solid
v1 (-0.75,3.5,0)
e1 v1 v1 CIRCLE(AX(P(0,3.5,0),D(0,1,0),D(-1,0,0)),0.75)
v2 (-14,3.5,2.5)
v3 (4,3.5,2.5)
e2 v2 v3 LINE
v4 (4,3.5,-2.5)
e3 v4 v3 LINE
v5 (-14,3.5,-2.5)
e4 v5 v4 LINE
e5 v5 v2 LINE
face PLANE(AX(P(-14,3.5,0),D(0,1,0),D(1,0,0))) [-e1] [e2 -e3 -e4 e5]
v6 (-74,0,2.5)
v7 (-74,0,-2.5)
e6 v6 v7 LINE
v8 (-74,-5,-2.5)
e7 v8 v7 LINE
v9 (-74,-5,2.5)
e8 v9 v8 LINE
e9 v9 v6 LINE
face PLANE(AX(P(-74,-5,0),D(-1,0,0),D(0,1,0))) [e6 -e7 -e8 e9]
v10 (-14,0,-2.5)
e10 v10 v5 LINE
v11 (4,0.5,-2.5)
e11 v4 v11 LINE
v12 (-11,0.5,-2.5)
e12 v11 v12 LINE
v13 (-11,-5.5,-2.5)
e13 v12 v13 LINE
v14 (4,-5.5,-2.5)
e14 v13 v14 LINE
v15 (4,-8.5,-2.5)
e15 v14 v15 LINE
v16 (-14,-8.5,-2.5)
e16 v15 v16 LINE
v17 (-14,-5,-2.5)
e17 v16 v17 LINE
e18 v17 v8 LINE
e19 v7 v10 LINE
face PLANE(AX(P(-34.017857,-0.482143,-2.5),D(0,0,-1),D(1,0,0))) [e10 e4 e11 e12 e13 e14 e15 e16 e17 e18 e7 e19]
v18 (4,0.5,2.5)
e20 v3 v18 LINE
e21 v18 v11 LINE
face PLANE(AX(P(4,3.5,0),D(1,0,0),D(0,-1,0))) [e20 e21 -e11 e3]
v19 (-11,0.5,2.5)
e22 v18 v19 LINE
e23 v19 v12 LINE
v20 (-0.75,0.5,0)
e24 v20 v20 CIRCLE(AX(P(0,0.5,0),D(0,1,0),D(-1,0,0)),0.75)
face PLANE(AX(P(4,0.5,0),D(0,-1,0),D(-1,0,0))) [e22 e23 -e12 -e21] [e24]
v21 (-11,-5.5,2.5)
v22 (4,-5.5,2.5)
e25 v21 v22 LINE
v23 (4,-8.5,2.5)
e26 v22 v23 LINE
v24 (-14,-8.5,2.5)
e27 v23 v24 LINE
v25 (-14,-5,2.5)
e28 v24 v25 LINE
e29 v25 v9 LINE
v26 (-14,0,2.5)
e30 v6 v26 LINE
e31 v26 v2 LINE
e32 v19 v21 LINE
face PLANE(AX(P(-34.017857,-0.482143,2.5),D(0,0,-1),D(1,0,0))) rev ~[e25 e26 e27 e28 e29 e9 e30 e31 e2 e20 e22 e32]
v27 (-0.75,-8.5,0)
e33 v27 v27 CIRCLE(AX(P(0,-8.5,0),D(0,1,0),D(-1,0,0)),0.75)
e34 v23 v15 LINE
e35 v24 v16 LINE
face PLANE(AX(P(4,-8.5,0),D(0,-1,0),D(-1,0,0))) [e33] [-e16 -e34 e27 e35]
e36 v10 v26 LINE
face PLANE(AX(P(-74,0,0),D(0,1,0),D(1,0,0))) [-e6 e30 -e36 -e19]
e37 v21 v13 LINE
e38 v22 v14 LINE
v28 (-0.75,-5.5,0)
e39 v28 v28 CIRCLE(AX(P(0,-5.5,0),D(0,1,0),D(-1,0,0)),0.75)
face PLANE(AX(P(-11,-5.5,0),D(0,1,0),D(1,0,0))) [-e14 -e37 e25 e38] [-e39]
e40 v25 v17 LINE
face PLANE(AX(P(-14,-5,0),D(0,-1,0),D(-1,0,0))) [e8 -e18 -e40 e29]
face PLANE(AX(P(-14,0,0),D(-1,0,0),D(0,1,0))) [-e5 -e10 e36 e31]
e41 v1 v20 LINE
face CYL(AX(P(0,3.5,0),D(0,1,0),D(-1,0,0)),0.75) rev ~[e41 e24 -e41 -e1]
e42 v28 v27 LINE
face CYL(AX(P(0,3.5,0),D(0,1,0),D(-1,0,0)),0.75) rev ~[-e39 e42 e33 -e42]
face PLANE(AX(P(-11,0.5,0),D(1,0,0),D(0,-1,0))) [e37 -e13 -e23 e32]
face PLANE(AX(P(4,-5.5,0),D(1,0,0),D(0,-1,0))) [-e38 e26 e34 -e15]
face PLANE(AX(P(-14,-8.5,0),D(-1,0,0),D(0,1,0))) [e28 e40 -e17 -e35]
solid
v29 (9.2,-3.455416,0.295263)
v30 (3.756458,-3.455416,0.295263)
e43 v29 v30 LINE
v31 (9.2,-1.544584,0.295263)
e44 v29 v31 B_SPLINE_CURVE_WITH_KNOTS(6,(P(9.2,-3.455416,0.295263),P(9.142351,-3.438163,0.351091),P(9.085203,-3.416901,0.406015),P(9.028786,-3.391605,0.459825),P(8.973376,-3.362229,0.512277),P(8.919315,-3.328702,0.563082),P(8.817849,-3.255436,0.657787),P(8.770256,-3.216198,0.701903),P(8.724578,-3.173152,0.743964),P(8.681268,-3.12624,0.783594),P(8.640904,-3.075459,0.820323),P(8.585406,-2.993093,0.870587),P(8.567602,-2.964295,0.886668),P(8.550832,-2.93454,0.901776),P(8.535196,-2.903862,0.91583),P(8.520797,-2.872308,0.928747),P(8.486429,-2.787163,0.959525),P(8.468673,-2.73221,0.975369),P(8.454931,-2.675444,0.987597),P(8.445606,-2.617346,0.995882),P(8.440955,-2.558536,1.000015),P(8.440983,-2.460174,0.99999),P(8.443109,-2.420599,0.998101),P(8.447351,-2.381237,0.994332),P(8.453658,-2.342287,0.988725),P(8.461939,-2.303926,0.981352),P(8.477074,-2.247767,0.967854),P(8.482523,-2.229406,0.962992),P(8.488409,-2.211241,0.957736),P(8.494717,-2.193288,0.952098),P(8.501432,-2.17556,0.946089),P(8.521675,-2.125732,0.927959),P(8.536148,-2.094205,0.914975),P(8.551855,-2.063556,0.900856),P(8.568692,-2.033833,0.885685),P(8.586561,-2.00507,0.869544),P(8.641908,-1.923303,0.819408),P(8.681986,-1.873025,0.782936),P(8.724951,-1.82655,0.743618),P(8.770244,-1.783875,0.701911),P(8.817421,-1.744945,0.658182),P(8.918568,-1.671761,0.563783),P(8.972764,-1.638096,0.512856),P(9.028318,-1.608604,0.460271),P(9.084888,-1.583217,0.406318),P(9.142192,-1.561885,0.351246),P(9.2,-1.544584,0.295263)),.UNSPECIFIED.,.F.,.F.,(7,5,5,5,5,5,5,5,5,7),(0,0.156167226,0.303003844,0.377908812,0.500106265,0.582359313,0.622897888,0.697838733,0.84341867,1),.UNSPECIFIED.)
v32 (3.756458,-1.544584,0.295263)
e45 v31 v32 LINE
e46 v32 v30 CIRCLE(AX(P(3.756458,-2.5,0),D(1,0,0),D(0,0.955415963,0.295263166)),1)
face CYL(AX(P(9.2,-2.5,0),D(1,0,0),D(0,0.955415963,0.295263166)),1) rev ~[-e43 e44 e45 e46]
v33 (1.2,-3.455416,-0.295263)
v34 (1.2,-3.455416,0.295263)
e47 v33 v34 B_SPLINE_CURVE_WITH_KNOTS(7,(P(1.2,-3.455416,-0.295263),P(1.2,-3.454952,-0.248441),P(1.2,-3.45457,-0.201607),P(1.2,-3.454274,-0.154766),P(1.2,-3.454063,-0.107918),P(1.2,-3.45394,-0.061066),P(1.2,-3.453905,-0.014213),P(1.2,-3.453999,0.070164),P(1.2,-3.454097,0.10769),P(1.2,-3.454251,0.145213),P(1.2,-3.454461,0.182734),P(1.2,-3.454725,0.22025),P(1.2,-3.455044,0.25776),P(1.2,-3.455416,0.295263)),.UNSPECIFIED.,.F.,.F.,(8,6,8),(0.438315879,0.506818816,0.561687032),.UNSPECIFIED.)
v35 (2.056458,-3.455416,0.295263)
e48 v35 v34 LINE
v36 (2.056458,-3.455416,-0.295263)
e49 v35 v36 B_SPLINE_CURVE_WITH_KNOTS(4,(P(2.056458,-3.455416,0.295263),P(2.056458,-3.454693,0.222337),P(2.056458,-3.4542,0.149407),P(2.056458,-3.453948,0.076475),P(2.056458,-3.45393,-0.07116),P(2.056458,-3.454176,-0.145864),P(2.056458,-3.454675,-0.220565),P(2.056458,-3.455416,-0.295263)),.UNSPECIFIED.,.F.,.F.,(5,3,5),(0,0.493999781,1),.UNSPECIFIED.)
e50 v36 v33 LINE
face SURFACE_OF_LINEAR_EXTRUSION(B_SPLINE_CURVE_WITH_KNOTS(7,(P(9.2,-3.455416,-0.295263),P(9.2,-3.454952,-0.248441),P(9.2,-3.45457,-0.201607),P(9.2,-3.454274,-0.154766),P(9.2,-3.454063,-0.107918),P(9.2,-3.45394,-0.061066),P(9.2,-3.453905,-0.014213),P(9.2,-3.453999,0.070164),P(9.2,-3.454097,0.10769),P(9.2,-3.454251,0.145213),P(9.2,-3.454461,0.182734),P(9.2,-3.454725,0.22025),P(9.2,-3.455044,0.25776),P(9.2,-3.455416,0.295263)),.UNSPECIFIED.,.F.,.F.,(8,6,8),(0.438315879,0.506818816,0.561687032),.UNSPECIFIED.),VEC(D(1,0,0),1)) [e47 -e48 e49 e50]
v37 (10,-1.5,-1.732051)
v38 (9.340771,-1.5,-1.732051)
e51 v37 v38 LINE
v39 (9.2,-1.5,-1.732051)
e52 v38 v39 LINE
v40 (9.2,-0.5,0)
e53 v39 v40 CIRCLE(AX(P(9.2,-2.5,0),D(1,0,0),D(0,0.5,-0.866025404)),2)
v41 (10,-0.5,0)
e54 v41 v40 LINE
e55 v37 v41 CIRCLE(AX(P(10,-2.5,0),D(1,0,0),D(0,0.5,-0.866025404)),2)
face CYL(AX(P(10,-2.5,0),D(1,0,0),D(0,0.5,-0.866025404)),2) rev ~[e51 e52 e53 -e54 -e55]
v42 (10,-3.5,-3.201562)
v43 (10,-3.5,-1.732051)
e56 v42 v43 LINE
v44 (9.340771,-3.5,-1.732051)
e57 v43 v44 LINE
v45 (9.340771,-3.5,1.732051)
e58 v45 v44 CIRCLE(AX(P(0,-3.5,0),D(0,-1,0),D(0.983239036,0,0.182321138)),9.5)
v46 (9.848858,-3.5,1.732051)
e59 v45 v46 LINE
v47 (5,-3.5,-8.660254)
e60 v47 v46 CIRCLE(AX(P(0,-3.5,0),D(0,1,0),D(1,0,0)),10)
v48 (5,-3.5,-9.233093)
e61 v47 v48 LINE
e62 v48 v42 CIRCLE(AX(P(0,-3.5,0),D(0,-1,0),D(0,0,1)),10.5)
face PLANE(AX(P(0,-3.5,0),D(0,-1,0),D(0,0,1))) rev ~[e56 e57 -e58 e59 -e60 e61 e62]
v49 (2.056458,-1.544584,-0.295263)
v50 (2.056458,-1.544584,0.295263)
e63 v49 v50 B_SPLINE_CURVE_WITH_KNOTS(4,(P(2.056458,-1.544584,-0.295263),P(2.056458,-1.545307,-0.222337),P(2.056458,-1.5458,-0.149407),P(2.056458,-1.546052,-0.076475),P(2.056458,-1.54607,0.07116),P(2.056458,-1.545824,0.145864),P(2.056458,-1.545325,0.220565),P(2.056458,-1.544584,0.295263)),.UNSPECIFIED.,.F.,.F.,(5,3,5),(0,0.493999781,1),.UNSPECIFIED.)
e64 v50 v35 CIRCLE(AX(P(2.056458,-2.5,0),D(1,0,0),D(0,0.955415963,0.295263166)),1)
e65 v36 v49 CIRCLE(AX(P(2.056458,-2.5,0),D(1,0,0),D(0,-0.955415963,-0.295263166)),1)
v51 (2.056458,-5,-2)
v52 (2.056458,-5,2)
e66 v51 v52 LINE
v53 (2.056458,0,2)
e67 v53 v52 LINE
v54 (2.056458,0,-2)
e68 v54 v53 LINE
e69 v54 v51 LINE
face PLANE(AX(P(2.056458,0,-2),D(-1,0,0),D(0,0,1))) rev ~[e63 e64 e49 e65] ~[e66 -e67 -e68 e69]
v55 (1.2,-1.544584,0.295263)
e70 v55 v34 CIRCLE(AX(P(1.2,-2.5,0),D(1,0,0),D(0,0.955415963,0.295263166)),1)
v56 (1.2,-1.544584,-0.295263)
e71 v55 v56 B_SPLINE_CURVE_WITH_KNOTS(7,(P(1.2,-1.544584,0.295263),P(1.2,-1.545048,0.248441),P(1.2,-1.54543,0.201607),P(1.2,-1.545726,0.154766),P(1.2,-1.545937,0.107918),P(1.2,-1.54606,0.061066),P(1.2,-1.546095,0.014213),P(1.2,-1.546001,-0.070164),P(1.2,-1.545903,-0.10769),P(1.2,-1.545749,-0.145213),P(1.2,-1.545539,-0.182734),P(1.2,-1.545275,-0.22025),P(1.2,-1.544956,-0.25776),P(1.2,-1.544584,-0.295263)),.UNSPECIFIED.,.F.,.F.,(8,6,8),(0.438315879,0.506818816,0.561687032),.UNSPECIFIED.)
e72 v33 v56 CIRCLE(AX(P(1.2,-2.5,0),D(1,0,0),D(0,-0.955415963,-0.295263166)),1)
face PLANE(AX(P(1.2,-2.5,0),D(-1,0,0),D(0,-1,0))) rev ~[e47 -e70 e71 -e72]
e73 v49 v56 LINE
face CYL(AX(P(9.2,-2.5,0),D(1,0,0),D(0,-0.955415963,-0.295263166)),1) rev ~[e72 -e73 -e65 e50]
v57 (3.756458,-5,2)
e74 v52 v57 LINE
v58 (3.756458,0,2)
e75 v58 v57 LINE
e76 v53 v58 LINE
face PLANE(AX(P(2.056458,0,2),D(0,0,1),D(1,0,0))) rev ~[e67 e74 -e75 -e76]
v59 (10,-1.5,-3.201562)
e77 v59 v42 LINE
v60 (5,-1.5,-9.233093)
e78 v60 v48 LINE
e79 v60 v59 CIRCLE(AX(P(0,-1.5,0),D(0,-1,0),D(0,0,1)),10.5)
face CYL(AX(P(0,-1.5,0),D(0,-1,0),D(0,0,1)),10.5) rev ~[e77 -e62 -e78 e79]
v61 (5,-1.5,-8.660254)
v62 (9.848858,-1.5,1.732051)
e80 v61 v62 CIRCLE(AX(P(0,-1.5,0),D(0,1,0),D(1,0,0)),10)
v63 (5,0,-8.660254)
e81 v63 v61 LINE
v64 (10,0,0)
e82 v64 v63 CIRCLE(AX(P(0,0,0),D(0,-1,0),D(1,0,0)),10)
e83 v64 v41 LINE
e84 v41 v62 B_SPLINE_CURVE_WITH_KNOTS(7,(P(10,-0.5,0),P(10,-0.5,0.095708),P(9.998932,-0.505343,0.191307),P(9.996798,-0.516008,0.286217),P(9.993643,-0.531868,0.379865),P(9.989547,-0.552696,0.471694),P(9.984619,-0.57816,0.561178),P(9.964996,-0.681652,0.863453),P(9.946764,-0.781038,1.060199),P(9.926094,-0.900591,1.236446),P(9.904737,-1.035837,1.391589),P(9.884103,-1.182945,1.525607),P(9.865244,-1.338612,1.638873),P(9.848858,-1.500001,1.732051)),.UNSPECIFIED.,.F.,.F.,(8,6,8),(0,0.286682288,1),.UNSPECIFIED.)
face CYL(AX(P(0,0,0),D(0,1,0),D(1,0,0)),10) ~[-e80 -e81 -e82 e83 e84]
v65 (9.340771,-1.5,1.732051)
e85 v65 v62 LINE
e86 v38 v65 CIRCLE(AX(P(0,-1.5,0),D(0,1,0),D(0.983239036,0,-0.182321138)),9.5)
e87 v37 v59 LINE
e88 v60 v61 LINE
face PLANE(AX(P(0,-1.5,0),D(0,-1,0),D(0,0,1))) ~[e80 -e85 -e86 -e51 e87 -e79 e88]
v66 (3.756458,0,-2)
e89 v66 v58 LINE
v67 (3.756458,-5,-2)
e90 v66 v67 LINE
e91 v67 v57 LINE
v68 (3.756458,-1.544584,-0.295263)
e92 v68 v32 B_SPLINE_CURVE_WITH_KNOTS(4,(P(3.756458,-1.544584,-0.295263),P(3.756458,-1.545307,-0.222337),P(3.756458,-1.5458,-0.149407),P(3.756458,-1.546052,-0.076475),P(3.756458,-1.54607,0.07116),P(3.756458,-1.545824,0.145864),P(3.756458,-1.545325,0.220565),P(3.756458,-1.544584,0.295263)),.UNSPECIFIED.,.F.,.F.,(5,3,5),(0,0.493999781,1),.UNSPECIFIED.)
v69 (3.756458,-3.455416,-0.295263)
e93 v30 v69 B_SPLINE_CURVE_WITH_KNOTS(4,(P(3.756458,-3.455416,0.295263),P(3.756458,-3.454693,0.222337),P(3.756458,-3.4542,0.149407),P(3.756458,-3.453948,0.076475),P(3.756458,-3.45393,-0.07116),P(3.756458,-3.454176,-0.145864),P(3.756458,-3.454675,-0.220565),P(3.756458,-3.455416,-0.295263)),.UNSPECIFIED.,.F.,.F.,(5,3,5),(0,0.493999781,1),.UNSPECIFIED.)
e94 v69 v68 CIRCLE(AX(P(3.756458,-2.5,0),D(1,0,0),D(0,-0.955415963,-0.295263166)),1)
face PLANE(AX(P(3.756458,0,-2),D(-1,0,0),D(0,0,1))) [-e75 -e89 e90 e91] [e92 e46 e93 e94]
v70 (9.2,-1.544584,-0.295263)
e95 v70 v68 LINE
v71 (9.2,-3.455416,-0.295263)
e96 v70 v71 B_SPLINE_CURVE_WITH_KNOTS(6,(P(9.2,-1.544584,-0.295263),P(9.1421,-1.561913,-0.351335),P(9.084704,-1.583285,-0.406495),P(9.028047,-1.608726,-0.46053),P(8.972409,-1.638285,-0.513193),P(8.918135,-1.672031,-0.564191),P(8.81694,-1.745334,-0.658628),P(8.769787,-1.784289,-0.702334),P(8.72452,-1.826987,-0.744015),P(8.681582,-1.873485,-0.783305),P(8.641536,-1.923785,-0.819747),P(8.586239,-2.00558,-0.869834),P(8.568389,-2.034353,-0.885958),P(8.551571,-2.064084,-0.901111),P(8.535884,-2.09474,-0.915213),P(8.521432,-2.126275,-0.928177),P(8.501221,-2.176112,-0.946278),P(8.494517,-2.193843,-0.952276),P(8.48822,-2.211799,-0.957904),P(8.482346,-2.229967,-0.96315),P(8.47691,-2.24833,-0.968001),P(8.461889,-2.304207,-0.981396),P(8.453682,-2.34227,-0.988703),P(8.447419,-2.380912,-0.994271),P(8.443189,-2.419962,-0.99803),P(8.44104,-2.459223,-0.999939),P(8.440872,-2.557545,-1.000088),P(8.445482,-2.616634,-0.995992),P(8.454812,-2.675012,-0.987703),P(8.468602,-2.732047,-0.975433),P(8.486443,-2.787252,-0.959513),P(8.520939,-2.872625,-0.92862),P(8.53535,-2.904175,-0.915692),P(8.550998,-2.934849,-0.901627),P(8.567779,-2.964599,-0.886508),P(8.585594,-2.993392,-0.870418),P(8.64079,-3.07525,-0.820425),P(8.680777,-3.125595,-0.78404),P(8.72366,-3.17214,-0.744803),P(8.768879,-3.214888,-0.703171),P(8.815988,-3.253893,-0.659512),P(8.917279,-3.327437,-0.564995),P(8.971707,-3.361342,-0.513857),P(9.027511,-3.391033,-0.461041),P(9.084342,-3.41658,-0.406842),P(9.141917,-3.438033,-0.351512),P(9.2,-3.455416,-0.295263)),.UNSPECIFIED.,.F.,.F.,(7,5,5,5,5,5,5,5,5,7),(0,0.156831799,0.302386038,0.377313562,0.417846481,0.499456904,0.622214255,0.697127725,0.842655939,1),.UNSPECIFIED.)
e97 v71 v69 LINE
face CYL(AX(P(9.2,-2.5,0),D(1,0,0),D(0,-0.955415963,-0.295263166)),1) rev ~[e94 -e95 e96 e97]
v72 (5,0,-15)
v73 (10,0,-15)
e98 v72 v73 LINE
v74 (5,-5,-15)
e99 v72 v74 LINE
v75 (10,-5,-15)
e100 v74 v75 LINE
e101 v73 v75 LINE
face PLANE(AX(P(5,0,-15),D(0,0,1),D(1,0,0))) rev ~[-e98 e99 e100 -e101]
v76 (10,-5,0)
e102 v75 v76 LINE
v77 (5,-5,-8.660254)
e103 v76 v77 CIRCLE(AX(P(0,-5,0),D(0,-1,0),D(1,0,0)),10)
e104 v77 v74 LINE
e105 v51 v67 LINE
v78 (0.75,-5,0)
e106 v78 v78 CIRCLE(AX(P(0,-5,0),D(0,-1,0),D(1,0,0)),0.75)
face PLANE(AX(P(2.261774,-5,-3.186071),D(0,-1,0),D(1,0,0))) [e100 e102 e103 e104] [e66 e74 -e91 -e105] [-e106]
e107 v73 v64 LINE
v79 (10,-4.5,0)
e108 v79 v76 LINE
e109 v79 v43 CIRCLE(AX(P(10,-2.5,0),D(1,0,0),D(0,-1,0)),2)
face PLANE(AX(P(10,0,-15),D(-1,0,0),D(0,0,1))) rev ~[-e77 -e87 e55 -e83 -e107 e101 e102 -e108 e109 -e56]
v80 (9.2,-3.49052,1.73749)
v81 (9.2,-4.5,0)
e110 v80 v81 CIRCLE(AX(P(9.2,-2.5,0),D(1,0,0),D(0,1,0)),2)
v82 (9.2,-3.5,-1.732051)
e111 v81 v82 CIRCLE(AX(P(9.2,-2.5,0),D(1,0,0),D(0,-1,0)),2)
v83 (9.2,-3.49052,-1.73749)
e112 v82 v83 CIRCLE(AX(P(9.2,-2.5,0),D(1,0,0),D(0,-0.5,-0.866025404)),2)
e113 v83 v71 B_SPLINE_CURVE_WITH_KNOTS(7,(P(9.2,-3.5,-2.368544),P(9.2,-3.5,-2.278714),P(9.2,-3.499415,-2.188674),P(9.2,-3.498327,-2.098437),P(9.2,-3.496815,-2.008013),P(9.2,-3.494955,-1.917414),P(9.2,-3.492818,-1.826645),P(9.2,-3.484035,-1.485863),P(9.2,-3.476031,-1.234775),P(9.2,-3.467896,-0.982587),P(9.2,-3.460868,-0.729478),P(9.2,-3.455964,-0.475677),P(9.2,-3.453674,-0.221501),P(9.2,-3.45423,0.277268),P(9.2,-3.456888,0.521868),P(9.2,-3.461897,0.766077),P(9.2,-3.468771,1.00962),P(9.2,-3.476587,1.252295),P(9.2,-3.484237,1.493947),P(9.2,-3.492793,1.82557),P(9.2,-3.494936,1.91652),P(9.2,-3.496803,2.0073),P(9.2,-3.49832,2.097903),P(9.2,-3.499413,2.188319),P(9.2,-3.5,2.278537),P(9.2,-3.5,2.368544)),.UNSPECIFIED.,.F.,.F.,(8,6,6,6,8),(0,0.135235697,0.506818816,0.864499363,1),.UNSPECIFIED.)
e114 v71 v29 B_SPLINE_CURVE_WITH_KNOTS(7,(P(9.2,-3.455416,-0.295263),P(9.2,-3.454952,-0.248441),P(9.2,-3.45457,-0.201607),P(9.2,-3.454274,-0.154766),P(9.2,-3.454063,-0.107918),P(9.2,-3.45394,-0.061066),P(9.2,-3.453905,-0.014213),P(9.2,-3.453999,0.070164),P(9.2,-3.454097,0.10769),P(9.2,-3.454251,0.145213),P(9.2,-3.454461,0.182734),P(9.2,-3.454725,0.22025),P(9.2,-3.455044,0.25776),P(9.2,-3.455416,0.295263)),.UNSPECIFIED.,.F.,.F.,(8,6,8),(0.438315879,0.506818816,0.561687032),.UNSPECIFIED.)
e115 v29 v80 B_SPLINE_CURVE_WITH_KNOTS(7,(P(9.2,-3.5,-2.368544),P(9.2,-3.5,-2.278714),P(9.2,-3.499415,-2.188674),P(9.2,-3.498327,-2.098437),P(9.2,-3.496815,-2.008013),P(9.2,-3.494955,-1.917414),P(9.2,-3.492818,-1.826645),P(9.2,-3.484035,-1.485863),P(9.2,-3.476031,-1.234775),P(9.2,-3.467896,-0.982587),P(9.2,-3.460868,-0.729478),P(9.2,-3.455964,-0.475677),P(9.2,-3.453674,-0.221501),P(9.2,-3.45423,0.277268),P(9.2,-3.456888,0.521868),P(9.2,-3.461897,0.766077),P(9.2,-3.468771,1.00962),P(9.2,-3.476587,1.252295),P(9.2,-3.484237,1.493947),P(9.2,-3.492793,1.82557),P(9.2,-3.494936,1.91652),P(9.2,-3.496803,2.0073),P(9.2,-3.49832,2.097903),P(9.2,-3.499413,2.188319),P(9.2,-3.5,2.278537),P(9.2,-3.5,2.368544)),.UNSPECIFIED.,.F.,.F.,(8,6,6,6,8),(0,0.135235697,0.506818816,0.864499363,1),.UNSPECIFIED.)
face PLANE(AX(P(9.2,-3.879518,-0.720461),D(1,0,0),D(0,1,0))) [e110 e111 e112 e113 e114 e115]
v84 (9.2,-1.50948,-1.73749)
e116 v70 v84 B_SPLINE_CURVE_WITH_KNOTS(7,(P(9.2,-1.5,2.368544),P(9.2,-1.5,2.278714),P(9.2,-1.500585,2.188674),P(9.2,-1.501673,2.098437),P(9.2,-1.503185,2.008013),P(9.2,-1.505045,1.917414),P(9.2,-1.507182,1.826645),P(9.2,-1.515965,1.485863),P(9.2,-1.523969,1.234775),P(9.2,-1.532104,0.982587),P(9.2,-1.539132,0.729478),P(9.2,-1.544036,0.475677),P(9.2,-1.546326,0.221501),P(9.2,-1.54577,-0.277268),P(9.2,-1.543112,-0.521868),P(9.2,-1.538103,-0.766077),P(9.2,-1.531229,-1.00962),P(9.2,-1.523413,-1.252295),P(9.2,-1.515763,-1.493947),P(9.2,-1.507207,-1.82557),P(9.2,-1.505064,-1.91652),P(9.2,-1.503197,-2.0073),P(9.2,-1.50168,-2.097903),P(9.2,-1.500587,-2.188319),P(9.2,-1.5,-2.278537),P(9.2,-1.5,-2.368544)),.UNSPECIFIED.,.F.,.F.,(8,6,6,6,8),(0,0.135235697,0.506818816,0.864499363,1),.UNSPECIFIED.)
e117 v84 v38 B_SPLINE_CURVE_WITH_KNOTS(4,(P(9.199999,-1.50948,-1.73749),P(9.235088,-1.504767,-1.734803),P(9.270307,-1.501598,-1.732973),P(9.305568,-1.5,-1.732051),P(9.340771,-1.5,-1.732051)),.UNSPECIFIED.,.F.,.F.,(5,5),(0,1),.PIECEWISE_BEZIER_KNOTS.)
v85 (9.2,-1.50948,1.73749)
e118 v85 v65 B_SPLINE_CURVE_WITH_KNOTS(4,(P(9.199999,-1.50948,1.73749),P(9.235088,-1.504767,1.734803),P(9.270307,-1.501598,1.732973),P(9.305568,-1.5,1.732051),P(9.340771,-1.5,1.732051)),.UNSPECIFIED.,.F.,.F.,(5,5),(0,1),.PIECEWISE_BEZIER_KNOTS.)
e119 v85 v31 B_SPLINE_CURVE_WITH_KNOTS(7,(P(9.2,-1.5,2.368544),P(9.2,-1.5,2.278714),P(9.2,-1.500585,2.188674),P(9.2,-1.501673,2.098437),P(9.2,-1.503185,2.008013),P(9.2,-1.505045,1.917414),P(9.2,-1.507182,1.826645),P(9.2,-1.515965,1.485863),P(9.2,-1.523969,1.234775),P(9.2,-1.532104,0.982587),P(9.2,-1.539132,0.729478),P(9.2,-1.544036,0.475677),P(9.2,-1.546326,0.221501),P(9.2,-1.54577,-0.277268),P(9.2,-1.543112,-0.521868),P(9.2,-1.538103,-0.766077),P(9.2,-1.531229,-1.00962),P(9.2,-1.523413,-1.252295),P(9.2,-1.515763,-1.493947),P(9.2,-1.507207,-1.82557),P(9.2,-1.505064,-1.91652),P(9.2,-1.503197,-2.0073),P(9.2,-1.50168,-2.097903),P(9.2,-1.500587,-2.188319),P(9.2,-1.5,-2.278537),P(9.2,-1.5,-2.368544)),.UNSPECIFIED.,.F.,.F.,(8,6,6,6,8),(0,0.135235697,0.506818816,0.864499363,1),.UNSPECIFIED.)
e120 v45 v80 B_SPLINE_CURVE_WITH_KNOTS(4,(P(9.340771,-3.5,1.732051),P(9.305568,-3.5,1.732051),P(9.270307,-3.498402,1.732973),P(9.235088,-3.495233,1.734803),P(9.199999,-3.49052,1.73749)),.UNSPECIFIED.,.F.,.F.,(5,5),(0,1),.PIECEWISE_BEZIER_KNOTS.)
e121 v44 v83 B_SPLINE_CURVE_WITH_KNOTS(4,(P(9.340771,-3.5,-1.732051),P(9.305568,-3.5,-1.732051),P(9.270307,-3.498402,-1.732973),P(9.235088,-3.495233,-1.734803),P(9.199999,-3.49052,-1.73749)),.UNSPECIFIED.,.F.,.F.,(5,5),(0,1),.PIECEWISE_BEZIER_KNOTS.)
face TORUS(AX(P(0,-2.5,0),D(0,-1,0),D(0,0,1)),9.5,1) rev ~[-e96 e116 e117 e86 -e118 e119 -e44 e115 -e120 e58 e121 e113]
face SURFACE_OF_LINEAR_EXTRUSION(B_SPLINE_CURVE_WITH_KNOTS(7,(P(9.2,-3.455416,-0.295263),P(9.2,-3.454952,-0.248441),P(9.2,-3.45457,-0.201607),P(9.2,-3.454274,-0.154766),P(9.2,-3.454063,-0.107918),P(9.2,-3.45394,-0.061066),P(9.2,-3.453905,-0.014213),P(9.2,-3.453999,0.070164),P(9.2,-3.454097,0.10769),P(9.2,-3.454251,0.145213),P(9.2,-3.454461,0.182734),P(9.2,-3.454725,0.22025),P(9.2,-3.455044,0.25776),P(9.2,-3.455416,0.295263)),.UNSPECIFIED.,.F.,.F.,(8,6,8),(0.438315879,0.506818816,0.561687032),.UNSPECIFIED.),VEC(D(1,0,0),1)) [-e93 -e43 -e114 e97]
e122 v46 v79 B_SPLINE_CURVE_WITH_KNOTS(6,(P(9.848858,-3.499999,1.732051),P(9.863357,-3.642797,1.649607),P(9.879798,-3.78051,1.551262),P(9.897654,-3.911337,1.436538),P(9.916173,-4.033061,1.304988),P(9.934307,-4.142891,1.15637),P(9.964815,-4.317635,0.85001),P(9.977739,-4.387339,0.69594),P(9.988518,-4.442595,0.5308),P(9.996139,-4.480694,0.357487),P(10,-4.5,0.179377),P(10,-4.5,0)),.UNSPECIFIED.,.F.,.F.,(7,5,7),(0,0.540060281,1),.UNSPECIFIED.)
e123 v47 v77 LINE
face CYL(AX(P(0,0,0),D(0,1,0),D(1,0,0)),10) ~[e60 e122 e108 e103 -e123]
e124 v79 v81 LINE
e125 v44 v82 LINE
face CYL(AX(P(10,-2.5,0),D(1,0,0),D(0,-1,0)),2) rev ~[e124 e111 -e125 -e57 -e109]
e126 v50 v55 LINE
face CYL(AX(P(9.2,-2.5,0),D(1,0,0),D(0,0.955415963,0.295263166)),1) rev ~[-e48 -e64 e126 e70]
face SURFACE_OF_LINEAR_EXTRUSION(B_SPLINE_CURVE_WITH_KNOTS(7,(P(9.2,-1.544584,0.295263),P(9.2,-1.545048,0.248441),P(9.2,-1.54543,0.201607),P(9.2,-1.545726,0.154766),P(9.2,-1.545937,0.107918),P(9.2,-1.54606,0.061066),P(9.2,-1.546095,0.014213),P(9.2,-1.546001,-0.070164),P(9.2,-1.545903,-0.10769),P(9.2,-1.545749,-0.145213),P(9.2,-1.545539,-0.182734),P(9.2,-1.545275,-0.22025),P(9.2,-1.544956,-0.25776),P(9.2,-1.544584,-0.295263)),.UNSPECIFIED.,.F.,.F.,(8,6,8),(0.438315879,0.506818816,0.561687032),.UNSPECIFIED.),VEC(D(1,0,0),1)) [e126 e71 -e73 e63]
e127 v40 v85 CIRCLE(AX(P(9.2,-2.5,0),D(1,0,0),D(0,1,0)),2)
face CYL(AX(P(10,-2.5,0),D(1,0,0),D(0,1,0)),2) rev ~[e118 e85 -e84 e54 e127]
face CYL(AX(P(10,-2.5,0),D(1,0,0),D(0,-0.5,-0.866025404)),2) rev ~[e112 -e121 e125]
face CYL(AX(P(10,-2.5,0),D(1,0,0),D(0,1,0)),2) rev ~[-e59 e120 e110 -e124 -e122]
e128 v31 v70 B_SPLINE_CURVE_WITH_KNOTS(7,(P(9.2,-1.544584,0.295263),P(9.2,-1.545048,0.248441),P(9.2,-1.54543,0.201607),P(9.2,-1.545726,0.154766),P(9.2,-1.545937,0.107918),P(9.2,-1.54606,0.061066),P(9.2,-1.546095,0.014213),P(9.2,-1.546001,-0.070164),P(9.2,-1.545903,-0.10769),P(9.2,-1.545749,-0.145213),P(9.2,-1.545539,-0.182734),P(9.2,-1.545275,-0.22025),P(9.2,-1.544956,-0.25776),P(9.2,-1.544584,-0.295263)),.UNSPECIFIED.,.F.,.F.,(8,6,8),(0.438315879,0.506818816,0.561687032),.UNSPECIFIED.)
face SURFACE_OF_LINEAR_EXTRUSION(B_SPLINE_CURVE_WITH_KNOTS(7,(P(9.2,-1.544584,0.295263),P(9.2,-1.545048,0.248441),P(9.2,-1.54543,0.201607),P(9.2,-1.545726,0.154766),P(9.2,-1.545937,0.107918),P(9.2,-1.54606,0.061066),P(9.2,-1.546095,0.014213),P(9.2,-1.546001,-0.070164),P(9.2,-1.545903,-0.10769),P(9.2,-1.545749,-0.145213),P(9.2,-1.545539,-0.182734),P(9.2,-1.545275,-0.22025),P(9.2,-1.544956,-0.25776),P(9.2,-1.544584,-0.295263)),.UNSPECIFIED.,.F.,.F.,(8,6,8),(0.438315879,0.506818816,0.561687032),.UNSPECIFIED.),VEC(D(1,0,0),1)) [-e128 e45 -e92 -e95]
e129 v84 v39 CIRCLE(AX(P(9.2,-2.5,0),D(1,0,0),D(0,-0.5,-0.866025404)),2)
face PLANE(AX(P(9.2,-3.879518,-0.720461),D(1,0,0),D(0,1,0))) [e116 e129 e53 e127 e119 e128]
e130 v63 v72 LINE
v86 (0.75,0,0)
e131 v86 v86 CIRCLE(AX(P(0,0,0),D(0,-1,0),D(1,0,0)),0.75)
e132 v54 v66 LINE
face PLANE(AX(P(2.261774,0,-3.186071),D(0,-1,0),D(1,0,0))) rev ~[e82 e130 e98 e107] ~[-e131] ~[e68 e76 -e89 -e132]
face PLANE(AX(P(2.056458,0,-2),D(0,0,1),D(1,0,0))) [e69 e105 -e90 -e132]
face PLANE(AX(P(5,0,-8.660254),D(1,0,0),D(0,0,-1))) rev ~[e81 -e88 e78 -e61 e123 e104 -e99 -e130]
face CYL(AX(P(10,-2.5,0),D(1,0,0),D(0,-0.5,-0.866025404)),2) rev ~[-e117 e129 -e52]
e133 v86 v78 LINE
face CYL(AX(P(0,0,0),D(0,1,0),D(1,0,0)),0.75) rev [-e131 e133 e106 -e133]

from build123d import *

# Parameters (mm, degrees)
F0_R           = 0.75
F0_W           = 1.7
F0_H           = 4
F1_DEPTH       = 5
F6_DEPTH       = 0.8
F8_DEPTH       = 8
F10_DEPTH      = 2.5
F10_DEPTH_BACK = 2.5
F11_R          = 0.75
F12_DEPTH      = 12


with BuildPart() as f1:
    # F0 (on Front) → F1 (new body)
    with BuildSketch(Plane.XZ):
        with BuildLine():
            Line((10, -15), (10, 0))
            ThreePointArc((10, 0), (-8.6602540378, 5), (5, -8.6602540378))
            Line((5, -8.6602540378), (5, -15))
            Line((5, -15), (10, -15))
        make_face()
        Circle(F0_R, mode=Mode.SUBTRACT)
        with Locations((2.9064579867, 0)):
            Rectangle(F0_W, F0_H, mode=Mode.SUBTRACT)
    extrude(amount=F1_DEPTH)

    # F3 (on Right) → F4 (revolve, cut)
    with BuildSketch(Plane.YZ):
        with BuildLine():
            Line((-1.5, 10), (-1.5, 10.5))
            Line((-1.5, 10.5), (-3.5, 10.5))
            Line((-3.5, 10.5), (-3.5, 10))
            Line((-3.5, 10), (-3.5, 9.5))
            ThreePointArc((-3.5, 9.5), (-2.5, 8.5), (-1.5, 9.5))
            Line((-1.5, 9.5), (-1.5, 10))
        make_face()
    revolve(axis=Axis((0, -2.5, 0), (0, -1, 0)), mode=Mode.SUBTRACT)

    # F5 (on face) → F6 (cut)
    with BuildSketch(Plane.YZ.offset(10)):
        with BuildLine():
            Line((-3.5, 0), (-4.5, 0))
            ThreePointArc((-4.5, 0), (-4.2320508076, -1), (-3.5, -1.7320508076))
            Line((-3.5, -1.7320508076), (-3.5, 0))
        make_face()
        with BuildLine():
            ThreePointArc((-1.5, -1.7320508076), (-0.7679491924, -1), (-0.5, 0))
            Line((-0.5, 0), (-1.5, 0))
            Line((-1.5, 0), (-1.5, -1.7320508076))
        make_face()
        with BuildLine():
            Line((-1.5, 0), (-0.5, 0))
            ThreePointArc((-0.5, 0), (-2.5, 2), (-4.5, 0))
            Line((-4.5, 0), (-3.5, 0))
            Line((-3.5, 0), (-3.5, -1.7320508076))
            ThreePointArc((-3.5, -1.7320508076), (-2.5, -2), (-1.5, -1.7320508076))
            Line((-1.5, -1.7320508076), (-1.5, 0))
        make_face()
    extrude(amount=-F6_DEPTH, mode=Mode.SUBTRACT)

    # F7 (on face) → F8 (cut)
    with BuildSketch(Plane.YZ.offset(9.2)):
        with BuildLine():
            add(Edge.make_bspline(
                [(-1.5445840368, 0.295263166), (-1.5450482012, 0.2484405202), (-1.5454297015, 0.2016073034), (-1.5457263882, 0.1547656753), (-1.5459366901, 0.1079178993), (-1.5460596334, 0.0610663461), (-1.5460948535, 0.0142134972), (-1.5460007359, -0.0701643408), (-1.5459027565, -0.1076899148), (-1.545748778, -0.1452134741), (-1.5455391734, -0.1827337648), (-1.5452745645, -0.2202495788), (-1.5449558177, -0.2577597532), (-1.5445840375, -0.2952631684)],
                knots=[0.4383158786, 0.4383158786, 0.4383158786, 0.4383158786, 0.4383158786, 0.4383158786, 0.4383158786, 0.4383158786, 0.5068188161, 0.5068188161, 0.5068188161, 0.5068188161, 0.5068188161, 0.5068188161, 0.5616870319, 0.5616870319, 0.5616870319, 0.5616870319, 0.5616870319, 0.5616870319, 0.5616870319, 0.5616870319], degree=7))
            ThreePointArc((-1.5445840368, 0.295263166), (-2.4999999988, 1), (-3.4554159625, 0.2952631684))
            add(Edge.make_bspline(
                [(-3.4554159632, -0.295263166), (-3.4549517988, -0.2484405202), (-3.4545702985, -0.2016073034), (-3.4542736118, -0.1547656753), (-3.4540633099, -0.1079178993), (-3.4539403666, -0.0610663461), (-3.4539051465, -0.0142134972), (-3.4539992641, 0.0701643408), (-3.4540972435, 0.1076899148), (-3.454251222, 0.1452134741), (-3.4544608266, 0.1827337648), (-3.4547254355, 0.2202495788), (-3.4550441823, 0.2577597532), (-3.4554159625, 0.2952631684)],
                knots=[0.4383158786, 0.4383158786, 0.4383158786, 0.4383158786, 0.4383158786, 0.4383158786, 0.4383158786, 0.4383158786, 0.5068188161, 0.5068188161, 0.5068188161, 0.5068188161, 0.5068188161, 0.5068188161, 0.5616870319, 0.5616870319, 0.5616870319, 0.5616870319, 0.5616870319, 0.5616870319, 0.5616870319, 0.5616870319], degree=7))
            ThreePointArc((-3.4554159632, -0.295263166), (-2.5000000012, -1), (-1.5445840375, -0.2952631684))
        make_face()
    extrude(amount=-F8_DEPTH, mode=Mode.SUBTRACT)


with BuildPart() as f10:
    # F9 (on plane+point) → F10 (new body, two sides)
    with BuildSketch(Plane(origin=(0, 0, 0), x_dir=(1, 0, 0), z_dir=(0, 0, -1))) as f10_sk:
        Polygon((4, -3.5), (4, -0.5), (-11, -0.5), (-11, 2.5), (-74, 2.5), (-74, 0), (-14, 0), (-14, -3.5), align=None)
        Polygon((-74, 2.5), (-11, 2.5), (-11, 5.5), (4, 5.5), (4, 8.5), (-14, 8.5), (-14, 5), (-74, 5), align=None)
    extrude(amount=F10_DEPTH)
    extrude(f10_sk.sketch, amount=-F10_DEPTH_BACK)

    # F11 (on face) → F12 (cut, through all)
    with BuildSketch(Plane(origin=(0, 3.5, 0), x_dir=(-1, 0, 0), z_dir=(0, 1, 0))):
        Circle(F11_R)
    extrude(amount=-F12_DEPTH, mode=Mode.SUBTRACT)


solid = Compound([f1.part, f10.part])
